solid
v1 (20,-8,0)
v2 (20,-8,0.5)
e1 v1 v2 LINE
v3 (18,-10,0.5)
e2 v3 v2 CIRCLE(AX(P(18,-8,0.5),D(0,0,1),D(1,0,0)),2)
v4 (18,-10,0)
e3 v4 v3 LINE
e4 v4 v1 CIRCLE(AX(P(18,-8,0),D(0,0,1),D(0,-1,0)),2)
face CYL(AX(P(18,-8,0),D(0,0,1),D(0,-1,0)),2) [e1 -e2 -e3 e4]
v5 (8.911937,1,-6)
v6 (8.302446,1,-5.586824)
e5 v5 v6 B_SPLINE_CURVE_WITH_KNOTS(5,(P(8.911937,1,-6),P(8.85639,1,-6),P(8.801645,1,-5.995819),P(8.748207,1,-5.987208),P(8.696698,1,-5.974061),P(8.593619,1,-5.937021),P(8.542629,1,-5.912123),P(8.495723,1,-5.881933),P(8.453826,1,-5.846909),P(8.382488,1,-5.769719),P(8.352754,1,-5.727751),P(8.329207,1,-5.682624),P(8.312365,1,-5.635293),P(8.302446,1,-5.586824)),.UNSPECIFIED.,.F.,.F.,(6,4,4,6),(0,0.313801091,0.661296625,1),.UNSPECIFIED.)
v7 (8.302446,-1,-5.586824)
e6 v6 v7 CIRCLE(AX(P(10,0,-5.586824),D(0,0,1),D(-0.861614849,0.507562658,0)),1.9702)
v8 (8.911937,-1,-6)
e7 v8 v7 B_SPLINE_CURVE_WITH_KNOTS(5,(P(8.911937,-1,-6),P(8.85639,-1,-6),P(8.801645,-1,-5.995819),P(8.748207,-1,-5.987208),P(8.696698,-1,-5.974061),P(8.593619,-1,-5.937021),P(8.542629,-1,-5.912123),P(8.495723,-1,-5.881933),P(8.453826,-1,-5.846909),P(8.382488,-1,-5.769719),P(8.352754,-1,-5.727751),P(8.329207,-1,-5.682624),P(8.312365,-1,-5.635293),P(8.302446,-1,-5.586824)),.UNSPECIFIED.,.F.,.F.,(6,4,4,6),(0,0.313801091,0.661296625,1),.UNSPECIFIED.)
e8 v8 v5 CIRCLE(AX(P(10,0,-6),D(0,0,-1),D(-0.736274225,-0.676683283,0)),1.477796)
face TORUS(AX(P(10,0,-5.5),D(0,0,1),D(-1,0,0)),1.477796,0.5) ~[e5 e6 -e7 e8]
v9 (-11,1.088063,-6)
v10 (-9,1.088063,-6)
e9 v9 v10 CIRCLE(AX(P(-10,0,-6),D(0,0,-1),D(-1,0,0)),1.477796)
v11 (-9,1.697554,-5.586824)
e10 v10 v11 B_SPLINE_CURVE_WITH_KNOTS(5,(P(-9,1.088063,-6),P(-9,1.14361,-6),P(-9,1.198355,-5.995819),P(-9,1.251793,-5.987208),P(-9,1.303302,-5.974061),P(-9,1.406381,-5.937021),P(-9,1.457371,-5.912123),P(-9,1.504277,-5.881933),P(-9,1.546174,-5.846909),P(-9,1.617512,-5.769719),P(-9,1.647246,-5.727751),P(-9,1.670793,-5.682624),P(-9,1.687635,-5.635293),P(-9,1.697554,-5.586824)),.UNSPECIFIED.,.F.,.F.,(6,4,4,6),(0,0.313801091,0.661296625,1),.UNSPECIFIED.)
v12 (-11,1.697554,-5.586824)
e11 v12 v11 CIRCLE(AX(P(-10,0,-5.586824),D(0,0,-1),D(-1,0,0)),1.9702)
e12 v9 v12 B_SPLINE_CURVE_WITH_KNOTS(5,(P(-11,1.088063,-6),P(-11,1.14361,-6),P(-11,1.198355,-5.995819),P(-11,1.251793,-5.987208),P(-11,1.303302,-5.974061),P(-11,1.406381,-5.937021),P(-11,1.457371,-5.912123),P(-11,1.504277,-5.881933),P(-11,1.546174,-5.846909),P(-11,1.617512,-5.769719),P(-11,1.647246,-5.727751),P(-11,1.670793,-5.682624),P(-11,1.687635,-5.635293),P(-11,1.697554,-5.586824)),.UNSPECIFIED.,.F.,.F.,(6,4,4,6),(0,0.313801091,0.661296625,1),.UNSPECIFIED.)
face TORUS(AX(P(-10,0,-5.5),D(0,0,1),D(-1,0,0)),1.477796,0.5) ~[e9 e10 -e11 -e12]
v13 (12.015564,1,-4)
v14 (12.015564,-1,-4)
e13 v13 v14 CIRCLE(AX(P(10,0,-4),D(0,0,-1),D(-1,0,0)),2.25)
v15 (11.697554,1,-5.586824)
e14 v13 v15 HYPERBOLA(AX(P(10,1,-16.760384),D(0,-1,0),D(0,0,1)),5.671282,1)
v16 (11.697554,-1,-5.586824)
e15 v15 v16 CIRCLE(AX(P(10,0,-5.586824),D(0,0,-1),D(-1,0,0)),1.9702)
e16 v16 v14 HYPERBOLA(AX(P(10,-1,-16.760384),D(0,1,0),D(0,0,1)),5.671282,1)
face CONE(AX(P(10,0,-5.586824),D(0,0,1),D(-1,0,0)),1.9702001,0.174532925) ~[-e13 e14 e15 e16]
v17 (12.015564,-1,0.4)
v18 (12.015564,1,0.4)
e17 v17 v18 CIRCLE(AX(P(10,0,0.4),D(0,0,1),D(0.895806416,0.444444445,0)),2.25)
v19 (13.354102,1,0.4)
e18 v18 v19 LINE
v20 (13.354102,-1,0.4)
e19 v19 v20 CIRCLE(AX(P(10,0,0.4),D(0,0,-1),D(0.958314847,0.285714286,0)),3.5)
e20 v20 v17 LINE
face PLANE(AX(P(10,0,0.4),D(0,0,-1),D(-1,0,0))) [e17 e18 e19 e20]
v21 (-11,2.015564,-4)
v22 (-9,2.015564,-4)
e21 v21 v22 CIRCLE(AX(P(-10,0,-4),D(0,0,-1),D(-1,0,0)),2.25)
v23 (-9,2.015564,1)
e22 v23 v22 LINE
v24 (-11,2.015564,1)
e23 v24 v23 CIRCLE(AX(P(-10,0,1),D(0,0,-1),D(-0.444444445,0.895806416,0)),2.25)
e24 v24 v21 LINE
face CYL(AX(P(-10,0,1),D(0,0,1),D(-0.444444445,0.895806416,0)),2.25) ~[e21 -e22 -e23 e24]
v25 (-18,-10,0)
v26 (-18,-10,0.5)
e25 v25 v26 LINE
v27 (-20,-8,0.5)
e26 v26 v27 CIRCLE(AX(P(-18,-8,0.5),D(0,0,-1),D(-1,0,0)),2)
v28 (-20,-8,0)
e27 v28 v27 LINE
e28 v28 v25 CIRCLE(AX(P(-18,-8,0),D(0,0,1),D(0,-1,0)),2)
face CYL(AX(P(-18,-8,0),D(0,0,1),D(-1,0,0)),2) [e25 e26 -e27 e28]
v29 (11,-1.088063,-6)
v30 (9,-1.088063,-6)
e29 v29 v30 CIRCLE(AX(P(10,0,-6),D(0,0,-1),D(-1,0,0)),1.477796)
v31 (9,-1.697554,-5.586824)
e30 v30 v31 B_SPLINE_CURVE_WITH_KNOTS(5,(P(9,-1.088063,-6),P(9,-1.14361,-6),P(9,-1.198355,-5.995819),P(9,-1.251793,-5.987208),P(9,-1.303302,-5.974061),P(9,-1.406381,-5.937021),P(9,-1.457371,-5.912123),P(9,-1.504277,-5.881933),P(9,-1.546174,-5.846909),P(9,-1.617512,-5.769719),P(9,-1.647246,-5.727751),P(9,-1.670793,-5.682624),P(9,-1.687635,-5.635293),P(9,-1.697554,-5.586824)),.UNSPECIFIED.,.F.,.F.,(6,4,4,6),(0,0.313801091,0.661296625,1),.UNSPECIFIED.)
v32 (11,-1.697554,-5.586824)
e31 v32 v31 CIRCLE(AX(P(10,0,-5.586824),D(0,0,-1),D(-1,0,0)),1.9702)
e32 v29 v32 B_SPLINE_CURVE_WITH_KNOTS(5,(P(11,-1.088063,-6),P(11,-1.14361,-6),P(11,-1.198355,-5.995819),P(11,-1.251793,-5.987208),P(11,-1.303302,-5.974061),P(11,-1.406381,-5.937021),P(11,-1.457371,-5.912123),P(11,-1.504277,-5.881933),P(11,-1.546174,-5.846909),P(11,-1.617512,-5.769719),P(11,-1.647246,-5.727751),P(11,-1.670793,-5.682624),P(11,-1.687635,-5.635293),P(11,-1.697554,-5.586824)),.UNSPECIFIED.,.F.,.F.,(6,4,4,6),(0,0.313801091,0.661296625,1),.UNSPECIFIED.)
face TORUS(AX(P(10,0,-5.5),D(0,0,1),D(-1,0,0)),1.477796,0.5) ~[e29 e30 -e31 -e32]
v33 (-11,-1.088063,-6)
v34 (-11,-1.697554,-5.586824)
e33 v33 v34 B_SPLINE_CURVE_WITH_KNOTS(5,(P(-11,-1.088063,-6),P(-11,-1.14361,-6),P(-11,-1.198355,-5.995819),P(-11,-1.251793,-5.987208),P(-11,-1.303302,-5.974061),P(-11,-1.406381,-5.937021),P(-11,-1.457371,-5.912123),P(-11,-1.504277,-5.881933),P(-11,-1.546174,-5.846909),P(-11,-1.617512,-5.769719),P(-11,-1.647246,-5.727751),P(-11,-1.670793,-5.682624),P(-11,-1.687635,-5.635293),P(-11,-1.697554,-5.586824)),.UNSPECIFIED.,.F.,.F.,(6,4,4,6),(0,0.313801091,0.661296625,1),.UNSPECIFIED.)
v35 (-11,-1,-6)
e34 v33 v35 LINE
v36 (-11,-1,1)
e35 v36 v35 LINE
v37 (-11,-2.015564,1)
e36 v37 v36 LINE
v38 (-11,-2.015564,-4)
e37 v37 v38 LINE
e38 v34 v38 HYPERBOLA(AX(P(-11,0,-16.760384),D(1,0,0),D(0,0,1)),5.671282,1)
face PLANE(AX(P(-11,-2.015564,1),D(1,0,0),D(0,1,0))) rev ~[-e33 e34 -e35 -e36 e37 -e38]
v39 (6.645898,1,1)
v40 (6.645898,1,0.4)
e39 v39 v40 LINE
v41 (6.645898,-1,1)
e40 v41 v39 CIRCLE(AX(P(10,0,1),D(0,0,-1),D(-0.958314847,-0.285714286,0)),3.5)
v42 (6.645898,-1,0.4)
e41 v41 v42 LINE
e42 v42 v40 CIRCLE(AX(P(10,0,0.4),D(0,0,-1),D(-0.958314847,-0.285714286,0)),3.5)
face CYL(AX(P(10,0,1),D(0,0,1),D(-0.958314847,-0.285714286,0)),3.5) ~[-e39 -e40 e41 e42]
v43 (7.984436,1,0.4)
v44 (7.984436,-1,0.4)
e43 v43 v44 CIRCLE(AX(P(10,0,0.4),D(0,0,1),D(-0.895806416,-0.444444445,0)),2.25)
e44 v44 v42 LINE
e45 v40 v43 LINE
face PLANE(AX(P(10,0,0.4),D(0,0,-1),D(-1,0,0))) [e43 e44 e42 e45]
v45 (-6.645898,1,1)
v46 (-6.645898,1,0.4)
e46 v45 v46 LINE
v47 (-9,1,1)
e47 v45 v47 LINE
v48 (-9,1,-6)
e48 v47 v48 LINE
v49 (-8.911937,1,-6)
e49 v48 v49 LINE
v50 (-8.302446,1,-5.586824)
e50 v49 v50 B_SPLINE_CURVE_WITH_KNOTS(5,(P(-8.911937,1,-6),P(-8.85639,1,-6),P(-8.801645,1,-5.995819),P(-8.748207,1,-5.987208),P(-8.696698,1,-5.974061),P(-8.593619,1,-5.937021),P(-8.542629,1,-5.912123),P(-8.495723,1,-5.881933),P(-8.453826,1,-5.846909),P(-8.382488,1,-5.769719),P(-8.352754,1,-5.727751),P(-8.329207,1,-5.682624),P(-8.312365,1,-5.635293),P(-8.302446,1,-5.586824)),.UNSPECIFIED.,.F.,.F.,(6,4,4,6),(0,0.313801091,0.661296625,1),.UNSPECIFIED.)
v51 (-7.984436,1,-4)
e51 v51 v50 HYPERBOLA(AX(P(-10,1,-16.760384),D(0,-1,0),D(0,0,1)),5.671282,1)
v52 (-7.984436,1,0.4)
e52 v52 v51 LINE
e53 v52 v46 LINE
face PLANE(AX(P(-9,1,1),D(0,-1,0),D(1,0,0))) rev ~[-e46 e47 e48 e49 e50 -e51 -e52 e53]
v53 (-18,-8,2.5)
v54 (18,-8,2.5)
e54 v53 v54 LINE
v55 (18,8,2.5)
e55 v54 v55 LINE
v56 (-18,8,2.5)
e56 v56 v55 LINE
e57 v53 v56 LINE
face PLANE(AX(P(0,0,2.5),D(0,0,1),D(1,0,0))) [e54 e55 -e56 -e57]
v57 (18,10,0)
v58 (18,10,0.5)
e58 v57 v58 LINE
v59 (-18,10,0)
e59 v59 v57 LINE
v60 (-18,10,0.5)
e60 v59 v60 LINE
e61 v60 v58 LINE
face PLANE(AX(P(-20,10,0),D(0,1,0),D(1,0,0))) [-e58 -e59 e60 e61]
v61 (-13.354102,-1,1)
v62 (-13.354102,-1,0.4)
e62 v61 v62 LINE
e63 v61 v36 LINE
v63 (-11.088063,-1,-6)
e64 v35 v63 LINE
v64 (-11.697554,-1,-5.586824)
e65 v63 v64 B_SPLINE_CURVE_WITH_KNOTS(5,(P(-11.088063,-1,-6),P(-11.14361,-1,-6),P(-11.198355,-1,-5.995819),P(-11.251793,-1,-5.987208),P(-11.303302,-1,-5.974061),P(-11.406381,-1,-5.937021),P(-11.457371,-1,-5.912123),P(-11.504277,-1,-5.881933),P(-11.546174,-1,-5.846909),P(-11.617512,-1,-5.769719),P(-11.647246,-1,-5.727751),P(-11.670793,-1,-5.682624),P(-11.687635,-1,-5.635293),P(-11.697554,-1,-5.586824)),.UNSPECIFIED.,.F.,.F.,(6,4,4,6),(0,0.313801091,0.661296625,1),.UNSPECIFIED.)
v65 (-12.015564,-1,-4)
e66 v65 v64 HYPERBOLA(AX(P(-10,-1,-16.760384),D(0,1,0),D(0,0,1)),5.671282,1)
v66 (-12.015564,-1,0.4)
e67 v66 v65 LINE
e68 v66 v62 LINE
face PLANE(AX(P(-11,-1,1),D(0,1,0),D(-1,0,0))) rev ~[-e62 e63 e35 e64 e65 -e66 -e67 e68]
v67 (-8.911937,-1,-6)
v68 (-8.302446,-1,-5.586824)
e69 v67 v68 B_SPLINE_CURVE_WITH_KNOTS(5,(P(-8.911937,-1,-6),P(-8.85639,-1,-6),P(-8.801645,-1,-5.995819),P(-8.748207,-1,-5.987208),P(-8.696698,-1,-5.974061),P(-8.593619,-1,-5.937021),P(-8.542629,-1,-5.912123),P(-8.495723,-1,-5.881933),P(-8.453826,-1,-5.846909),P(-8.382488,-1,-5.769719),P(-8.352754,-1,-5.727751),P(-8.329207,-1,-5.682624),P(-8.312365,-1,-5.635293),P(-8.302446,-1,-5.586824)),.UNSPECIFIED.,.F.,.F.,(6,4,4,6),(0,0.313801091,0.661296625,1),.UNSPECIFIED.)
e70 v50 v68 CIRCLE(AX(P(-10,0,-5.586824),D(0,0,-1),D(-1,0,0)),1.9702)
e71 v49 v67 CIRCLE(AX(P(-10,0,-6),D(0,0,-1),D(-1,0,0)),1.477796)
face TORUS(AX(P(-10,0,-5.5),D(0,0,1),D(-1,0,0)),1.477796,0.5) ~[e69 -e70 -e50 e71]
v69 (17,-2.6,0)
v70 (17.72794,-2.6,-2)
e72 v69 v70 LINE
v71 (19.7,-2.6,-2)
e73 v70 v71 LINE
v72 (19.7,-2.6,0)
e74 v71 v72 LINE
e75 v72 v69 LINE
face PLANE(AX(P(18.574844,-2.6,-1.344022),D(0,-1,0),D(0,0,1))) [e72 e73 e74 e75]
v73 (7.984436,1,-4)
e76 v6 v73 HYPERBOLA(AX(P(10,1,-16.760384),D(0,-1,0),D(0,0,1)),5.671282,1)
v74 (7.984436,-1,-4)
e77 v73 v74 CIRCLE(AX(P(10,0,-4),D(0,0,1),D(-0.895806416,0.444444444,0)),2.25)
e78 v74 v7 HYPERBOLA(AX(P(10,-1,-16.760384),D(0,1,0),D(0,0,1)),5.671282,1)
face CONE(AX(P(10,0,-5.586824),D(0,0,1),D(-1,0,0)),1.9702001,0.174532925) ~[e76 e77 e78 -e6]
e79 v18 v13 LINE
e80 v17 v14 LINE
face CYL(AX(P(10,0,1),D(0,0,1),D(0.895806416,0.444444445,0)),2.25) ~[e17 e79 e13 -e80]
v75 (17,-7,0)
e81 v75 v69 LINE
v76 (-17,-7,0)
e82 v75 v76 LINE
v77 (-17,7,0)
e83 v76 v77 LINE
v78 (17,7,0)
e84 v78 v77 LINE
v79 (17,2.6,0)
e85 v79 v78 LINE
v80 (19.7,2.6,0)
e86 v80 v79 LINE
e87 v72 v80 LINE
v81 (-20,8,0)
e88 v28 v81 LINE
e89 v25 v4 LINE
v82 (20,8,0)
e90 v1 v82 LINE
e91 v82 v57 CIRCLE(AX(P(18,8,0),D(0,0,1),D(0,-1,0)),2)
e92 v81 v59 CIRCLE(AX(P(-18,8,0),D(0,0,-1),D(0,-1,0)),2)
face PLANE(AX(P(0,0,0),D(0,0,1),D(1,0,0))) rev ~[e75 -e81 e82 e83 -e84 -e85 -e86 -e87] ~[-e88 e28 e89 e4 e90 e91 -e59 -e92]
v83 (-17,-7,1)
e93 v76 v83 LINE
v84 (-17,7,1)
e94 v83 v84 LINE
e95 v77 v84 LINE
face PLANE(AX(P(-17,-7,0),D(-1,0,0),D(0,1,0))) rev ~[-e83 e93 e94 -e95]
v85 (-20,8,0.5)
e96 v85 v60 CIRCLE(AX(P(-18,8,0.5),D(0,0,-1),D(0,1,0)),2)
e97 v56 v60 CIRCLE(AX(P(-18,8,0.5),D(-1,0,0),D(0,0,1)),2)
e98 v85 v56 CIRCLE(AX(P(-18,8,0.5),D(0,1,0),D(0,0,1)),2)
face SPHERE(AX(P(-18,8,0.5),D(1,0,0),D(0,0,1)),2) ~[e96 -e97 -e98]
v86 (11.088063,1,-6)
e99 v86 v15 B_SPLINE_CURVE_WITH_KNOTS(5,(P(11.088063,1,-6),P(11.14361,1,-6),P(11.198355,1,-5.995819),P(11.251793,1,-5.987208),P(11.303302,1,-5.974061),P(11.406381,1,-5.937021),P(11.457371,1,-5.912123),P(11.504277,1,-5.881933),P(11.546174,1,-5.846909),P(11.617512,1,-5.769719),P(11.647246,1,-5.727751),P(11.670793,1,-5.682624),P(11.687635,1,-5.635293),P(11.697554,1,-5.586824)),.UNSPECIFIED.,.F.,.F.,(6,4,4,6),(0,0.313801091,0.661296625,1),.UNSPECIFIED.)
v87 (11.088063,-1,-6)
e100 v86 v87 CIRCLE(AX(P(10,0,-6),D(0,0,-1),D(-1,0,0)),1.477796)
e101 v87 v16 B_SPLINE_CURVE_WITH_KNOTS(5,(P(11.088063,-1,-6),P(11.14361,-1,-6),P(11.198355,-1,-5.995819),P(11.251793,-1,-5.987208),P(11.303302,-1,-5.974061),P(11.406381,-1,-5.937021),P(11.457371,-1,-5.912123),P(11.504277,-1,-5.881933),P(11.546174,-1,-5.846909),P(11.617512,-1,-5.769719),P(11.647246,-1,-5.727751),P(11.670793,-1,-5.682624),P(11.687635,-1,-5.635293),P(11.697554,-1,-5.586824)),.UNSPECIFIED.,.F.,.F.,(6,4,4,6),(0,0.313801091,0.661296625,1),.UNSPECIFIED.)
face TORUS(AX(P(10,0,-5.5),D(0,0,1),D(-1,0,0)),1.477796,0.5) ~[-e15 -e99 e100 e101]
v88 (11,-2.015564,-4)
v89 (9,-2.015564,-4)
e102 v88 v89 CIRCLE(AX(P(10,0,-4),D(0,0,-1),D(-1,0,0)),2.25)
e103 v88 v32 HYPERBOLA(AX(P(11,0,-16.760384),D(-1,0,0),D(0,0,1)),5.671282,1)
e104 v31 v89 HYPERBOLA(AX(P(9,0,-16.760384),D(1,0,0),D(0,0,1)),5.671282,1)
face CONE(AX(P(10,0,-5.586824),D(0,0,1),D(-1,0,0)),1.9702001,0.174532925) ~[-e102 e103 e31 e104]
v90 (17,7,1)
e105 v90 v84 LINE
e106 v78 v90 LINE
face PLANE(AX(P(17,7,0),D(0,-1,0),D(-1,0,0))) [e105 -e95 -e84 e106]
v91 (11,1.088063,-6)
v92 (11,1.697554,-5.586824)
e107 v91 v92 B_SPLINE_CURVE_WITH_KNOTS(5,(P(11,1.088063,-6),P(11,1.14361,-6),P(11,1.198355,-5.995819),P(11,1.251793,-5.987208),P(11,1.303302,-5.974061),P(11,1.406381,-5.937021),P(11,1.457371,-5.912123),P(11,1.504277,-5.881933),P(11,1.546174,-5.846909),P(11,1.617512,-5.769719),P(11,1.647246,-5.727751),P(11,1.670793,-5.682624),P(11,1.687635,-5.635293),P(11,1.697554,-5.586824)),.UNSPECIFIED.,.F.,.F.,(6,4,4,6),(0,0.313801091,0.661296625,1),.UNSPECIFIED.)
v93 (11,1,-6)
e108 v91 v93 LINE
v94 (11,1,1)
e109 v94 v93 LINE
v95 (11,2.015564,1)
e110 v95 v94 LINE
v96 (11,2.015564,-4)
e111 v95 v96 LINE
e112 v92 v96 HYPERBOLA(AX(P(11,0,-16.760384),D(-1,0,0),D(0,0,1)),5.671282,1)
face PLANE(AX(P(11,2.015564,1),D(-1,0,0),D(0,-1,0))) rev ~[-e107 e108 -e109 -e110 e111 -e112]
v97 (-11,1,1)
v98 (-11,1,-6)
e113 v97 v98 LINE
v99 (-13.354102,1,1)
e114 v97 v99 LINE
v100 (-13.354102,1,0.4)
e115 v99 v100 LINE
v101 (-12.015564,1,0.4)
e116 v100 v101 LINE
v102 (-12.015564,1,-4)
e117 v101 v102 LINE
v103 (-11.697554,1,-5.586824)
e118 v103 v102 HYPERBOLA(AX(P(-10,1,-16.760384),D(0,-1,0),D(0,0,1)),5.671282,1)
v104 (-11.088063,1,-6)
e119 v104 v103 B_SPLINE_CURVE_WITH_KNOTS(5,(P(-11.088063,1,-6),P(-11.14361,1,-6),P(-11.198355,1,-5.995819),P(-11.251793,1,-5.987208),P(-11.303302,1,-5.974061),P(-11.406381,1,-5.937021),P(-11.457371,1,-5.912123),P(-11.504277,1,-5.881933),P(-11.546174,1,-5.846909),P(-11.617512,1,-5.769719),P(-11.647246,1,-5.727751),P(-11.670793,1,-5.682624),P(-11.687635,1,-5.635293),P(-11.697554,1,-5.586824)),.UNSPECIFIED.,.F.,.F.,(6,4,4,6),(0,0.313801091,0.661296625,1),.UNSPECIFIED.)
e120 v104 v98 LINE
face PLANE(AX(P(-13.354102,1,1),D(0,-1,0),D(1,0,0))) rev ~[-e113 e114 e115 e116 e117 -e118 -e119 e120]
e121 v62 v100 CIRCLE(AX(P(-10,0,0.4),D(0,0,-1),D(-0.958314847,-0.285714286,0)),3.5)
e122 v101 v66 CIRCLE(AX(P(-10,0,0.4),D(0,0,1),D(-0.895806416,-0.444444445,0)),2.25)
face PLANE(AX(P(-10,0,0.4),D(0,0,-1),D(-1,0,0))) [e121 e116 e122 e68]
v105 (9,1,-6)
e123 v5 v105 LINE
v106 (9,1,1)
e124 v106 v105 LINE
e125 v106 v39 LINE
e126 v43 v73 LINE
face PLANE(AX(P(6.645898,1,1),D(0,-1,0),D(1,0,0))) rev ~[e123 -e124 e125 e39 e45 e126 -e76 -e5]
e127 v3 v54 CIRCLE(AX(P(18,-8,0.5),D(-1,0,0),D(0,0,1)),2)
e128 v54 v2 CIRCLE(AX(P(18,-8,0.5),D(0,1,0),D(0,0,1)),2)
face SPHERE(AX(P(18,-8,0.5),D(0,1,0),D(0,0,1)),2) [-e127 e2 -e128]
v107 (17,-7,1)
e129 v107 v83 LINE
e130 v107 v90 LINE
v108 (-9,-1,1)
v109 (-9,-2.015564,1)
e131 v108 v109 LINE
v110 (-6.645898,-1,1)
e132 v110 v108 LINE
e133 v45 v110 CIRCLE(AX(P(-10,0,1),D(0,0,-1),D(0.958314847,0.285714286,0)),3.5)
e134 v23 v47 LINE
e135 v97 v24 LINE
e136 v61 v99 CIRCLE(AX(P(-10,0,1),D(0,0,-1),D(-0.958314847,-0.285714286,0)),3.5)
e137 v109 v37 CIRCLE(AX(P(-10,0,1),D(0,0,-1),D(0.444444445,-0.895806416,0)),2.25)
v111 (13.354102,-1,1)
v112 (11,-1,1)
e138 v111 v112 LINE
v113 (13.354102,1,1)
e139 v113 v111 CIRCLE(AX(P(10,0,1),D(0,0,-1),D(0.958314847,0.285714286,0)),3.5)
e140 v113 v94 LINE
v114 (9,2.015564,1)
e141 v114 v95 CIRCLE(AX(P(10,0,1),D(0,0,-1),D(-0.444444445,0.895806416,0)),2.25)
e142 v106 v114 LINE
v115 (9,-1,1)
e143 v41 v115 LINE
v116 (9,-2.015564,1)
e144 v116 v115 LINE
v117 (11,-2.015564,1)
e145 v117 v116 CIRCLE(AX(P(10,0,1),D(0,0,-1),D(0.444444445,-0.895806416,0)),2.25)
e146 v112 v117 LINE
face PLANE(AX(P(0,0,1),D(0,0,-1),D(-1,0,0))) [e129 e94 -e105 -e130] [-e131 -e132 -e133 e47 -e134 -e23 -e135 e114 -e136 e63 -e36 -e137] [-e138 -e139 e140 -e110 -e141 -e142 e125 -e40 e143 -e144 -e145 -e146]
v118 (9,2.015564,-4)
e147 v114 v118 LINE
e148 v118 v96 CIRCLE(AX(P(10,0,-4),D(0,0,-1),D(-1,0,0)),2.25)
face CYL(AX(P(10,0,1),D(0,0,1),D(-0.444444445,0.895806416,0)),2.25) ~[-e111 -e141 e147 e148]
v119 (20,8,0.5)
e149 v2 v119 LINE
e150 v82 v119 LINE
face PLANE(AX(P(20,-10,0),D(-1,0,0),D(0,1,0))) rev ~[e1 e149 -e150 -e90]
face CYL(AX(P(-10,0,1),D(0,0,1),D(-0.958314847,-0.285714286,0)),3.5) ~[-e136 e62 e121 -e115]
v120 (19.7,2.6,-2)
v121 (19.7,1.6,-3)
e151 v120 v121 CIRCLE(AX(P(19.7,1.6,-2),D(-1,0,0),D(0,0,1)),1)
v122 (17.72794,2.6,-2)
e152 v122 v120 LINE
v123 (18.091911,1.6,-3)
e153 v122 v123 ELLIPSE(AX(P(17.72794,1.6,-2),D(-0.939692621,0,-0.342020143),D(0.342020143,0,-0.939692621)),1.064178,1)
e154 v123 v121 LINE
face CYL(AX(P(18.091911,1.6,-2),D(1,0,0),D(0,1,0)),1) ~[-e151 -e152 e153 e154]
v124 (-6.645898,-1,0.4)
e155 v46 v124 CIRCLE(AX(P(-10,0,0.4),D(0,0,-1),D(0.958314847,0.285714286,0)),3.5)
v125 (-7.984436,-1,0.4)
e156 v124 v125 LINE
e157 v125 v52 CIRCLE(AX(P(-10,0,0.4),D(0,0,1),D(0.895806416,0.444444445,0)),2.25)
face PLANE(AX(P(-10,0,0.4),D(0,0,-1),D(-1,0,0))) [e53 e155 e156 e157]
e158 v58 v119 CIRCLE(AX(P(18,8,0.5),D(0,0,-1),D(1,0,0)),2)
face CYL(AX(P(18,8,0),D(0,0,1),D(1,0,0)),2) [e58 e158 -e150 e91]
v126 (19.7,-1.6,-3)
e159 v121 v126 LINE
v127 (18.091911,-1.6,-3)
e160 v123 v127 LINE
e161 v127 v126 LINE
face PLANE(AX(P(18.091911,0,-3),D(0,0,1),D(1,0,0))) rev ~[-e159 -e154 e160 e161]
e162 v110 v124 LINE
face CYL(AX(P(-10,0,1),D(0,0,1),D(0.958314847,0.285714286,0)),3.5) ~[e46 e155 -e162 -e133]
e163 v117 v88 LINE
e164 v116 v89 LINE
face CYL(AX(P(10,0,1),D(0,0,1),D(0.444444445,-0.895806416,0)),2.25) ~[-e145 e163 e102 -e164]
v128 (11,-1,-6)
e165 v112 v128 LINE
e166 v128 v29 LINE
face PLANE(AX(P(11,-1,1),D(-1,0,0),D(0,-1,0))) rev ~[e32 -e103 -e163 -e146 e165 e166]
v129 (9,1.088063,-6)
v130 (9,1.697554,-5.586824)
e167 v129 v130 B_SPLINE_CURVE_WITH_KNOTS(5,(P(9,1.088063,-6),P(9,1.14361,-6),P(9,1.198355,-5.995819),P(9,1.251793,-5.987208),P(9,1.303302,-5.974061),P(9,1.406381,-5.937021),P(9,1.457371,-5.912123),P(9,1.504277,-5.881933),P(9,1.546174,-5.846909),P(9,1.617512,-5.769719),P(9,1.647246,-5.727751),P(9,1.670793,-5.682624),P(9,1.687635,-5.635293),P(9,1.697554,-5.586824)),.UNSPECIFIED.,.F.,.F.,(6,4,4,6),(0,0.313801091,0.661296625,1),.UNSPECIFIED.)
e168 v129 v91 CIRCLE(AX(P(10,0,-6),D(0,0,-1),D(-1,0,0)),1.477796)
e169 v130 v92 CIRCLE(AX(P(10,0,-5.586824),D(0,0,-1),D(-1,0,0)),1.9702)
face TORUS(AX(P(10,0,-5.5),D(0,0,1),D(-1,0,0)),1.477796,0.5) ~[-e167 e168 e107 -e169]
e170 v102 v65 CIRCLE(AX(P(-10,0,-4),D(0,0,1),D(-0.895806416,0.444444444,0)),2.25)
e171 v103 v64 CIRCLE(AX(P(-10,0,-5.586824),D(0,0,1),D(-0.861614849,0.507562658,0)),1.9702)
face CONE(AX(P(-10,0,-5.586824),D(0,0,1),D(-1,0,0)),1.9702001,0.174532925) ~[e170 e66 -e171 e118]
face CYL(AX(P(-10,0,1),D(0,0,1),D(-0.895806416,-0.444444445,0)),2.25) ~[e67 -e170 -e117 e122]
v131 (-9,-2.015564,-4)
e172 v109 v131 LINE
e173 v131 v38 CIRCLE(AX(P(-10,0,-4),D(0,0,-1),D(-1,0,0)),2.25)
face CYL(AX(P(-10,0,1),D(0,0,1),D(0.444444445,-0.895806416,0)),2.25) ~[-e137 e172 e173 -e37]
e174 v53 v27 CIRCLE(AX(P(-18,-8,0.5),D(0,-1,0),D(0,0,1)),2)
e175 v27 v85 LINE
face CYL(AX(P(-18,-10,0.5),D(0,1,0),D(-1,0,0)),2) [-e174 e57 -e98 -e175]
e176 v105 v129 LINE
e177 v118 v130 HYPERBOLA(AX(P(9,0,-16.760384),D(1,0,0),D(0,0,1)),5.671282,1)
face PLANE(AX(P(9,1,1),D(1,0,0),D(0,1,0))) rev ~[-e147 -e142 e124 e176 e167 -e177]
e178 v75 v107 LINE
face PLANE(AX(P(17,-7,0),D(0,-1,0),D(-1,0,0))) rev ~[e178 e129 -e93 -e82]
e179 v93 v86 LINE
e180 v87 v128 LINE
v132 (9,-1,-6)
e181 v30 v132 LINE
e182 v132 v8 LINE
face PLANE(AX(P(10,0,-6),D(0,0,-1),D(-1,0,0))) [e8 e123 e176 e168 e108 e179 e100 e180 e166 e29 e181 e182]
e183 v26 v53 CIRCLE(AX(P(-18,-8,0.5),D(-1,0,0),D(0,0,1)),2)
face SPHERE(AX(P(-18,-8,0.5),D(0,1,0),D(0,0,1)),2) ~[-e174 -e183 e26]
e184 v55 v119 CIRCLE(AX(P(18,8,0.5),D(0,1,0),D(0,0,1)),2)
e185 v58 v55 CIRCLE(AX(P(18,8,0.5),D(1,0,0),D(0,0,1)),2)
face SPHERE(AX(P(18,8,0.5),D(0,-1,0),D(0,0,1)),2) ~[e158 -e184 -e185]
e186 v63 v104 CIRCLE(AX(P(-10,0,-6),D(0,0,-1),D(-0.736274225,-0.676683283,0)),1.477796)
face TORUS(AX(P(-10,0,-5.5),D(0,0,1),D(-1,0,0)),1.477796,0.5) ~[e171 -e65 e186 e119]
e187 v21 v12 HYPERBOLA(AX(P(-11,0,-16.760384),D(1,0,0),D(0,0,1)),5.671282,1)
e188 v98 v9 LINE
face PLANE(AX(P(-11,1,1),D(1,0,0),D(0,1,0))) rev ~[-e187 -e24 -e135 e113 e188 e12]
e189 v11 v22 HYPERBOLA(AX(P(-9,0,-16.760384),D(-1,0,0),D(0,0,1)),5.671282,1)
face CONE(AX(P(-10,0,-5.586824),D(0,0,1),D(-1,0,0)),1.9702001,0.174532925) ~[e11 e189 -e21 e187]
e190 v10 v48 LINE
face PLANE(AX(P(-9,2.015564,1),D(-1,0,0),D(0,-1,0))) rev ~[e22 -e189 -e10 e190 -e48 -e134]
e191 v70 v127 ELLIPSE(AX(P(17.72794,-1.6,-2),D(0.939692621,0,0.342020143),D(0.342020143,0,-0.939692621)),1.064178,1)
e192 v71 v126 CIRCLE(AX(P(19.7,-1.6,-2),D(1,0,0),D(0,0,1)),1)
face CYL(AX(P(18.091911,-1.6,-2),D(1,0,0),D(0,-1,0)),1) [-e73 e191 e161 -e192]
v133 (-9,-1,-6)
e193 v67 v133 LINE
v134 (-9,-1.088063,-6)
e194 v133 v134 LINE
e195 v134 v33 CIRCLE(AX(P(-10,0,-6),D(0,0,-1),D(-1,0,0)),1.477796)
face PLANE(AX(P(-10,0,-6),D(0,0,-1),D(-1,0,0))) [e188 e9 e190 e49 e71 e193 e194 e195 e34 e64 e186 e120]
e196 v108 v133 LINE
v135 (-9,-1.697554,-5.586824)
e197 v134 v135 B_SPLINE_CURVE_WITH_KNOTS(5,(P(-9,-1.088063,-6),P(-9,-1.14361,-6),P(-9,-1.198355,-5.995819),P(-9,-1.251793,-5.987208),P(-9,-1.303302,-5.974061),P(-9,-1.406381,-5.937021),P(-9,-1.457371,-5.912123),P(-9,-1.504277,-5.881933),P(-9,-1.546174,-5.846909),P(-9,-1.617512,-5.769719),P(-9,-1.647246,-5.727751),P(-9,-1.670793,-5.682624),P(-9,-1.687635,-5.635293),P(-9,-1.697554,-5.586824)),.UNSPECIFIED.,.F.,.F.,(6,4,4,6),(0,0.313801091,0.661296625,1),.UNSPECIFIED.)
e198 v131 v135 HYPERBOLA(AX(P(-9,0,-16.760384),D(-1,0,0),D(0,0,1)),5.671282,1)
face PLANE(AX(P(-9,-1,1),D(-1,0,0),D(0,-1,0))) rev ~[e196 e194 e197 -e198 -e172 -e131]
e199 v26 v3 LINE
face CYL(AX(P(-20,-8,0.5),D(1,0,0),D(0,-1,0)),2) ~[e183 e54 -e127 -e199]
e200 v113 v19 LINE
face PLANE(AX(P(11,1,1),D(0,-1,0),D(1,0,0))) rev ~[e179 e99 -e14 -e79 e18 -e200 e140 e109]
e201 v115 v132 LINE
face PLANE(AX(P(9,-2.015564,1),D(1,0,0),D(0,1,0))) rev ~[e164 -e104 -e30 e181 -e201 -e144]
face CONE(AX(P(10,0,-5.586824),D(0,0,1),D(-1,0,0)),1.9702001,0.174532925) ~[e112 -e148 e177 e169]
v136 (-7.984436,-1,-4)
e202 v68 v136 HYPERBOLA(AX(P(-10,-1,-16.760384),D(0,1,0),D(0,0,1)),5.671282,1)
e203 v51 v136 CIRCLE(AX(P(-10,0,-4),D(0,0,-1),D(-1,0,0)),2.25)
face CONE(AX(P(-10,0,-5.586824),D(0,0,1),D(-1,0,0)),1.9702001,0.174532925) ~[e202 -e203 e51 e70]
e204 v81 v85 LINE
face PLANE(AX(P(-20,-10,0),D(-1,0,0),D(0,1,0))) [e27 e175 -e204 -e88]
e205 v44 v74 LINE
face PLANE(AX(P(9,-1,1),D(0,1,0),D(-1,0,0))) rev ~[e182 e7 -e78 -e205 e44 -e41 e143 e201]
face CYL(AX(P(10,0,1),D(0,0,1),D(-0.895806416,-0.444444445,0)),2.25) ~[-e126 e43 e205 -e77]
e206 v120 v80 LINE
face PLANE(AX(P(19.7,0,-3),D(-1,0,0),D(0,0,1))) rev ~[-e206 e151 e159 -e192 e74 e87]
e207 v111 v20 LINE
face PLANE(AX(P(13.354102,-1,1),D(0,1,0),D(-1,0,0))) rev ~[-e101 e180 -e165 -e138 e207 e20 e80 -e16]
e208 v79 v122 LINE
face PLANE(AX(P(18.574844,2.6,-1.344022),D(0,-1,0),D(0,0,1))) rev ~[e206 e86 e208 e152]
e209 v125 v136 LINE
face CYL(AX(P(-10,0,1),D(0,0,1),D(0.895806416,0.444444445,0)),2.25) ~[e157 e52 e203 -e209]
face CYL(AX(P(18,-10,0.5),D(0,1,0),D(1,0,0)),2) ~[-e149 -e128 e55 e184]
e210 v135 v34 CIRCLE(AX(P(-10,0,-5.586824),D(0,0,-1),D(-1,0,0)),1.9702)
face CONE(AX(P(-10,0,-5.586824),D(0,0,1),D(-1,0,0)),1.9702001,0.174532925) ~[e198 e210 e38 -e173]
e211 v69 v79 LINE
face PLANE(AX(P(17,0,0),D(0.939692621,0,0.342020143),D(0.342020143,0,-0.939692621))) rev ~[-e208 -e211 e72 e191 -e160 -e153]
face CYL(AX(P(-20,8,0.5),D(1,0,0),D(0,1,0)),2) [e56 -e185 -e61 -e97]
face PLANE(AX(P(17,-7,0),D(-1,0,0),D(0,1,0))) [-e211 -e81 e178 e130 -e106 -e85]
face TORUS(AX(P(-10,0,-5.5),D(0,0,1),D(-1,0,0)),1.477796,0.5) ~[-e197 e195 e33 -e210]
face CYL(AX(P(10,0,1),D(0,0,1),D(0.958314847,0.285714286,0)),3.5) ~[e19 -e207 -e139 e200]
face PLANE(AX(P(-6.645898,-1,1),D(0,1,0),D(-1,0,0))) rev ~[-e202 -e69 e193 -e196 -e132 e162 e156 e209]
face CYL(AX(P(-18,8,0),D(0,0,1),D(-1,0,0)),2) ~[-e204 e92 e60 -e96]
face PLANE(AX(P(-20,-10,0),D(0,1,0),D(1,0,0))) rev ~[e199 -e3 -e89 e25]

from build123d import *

# Parameters (mm, degrees)
SKETCH1_W           = 40
SKETCH1_H           = 20
BOSS_EXTRUDE1_DEPTH = 2.5
FILLET1_R           = 2
SKETCH2_W           = 34
SKETCH2_H           = 14
CUT_EXTRUDE1_DEPTH  = 1
BOSS_EXTRUDE2_DEPTH = 2.6
FILLET2_R           = 1
BOSS_EXTRUDE3_DEPTH = 7
BOSS_EXTRUDE4_DEPTH = 0.6
LPATTERN1_COUNT     = 2
LPATTERN1_PITCH     = 20


with BuildPart() as part:
    # Sketch1 → Boss-Extrude1 (new body)
    with BuildSketch(Plane.XY):
        Rectangle(SKETCH1_W, SKETCH1_H)
    extrude(amount=BOSS_EXTRUDE1_DEPTH)

    # Fillet1
    fillet1_edges = [part.edges().sort_by_distance(p)[0] for p in [
        (20, 0, 2.5),
        (0, 10, 2.5),
        (-20, 0, 2.5),
        (0, -10, 2.5),
        (-20, 10, 1.25),
        (20, 10, 1.25),
        (20, -10, 1.25),
        (-20, -10, 1.25),
    ]]
    fillet(fillet1_edges, radius=FILLET1_R)

    # Sketch2 → Cut-Extrude1 (cut)
    with BuildSketch(Plane(origin=(0, 0, 0), x_dir=(-1, 0, 0), z_dir=(0, 0, -1))):
        Rectangle(SKETCH2_W, SKETCH2_H)
    extrude(amount=-CUT_EXTRUDE1_DEPTH, mode=Mode.SUBTRACT)

    # Sketch3 → Boss-Extrude2 (add, symmetric)
    with BuildSketch(Plane(origin=(0, 0, 0), x_dir=(0, 0, -1), z_dir=(0, 1, 0))):
        Polygon((0, -17), (3, -18.091910703), (3, -19.7), (0, -19.7), align=None)
    extrude(amount=BOSS_EXTRUDE2_DEPTH, both=True)

    # Fillet2
    fillet2_edges = [part.edges().sort_by_distance(p)[0] for p in [
        (18.895955351, -2.6, -3),
        (18.895955351, 2.6, -3),
    ]]
    fillet(fillet2_edges, radius=FILLET2_R)

    # Sketch4 → Boss-Extrude3 (add)
    with BuildSketch(Plane(origin=(0, 0, 1), x_dir=(-1, 0, 0), z_dir=(0, 0, -1))):
        with BuildLine():
            Line((-12.015564437, -1), (-11, -1))
            Line((-11, -1), (-11, -2.015564437))
            ThreePointArc((-11, -2.015564437), (-10, -2.25), (-9, -2.015564437))
            Line((-9, -2.015564437), (-9, -1))
            Line((-9, -1), (-7.984435563, -1))
            ThreePointArc((-7.984435563, -1), (-7.75, 0), (-7.984435563, 1))
            Line((-7.984435563, 1), (-9, 1))
            Line((-9, 1), (-9, 2.015564437))
            ThreePointArc((-9, 2.015564437), (-10, 2.25), (-11, 2.015564437))
            Line((-11, 2.015564437), (-11, 1))
            Line((-11, 1), (-12.015564437, 1))
            ThreePointArc((-12.015564437, 1), (-12.25, 0), (-12.015564437, -1))
        make_face()
    boss_extrude3 = extrude(amount=BOSS_EXTRUDE3_DEPTH)

    # Sketch5 → Cut-Revolve1 (revolve, cut)
    with BuildSketch(Plane(origin=(0, 0, 0), x_dir=(0, 0, -1), z_dir=(0, 1, 0))):
        with BuildLine():
            Line((4, -7.75), (6, -7.75))
            Line((6, -7.75), (6, -8.522203777))
            ThreePointArc((6, -8.522203777), (5.883022222, -8.200809972), (5.586824089, -8.0297999))
            Line((5.586824089, -8.0297999), (4, -7.75))
        make_face()
    cut_revolve1 = revolve(axis=Axis((10, 0, 1), (0, 0, -1)), mode=Mode.SUBTRACT)

    # Sketch6 → Boss-Extrude4 (add)
    with BuildSketch(Plane(origin=(0, 0, 1), x_dir=(-1, 0, 0), z_dir=(0, 0, -1))):
        with BuildLine():
            Line((-13.354101966, -1), (-6.645898034, -1))
            ThreePointArc((-6.645898034, -1), (-6.5, 0), (-6.645898034, 1))
            Line((-6.645898034, 1), (-13.354101966, 1))
            ThreePointArc((-13.354101966, 1), (-13.5, 0), (-13.354101966, -1))
        make_face()
    boss_extrude4 = extrude(amount=BOSS_EXTRUDE4_DEPTH)

    # LPattern1: Boss-Extrude3, Cut-Revolve1, Boss-Extrude4 ×2
    with Locations(*[(-i * LPATTERN1_PITCH, 0, 0) for i in range(1, LPATTERN1_COUNT)]):
        add(boss_extrude3)
        add(cut_revolve1, mode=Mode.SUBTRACT)
        add(boss_extrude4)


solid = part.part
